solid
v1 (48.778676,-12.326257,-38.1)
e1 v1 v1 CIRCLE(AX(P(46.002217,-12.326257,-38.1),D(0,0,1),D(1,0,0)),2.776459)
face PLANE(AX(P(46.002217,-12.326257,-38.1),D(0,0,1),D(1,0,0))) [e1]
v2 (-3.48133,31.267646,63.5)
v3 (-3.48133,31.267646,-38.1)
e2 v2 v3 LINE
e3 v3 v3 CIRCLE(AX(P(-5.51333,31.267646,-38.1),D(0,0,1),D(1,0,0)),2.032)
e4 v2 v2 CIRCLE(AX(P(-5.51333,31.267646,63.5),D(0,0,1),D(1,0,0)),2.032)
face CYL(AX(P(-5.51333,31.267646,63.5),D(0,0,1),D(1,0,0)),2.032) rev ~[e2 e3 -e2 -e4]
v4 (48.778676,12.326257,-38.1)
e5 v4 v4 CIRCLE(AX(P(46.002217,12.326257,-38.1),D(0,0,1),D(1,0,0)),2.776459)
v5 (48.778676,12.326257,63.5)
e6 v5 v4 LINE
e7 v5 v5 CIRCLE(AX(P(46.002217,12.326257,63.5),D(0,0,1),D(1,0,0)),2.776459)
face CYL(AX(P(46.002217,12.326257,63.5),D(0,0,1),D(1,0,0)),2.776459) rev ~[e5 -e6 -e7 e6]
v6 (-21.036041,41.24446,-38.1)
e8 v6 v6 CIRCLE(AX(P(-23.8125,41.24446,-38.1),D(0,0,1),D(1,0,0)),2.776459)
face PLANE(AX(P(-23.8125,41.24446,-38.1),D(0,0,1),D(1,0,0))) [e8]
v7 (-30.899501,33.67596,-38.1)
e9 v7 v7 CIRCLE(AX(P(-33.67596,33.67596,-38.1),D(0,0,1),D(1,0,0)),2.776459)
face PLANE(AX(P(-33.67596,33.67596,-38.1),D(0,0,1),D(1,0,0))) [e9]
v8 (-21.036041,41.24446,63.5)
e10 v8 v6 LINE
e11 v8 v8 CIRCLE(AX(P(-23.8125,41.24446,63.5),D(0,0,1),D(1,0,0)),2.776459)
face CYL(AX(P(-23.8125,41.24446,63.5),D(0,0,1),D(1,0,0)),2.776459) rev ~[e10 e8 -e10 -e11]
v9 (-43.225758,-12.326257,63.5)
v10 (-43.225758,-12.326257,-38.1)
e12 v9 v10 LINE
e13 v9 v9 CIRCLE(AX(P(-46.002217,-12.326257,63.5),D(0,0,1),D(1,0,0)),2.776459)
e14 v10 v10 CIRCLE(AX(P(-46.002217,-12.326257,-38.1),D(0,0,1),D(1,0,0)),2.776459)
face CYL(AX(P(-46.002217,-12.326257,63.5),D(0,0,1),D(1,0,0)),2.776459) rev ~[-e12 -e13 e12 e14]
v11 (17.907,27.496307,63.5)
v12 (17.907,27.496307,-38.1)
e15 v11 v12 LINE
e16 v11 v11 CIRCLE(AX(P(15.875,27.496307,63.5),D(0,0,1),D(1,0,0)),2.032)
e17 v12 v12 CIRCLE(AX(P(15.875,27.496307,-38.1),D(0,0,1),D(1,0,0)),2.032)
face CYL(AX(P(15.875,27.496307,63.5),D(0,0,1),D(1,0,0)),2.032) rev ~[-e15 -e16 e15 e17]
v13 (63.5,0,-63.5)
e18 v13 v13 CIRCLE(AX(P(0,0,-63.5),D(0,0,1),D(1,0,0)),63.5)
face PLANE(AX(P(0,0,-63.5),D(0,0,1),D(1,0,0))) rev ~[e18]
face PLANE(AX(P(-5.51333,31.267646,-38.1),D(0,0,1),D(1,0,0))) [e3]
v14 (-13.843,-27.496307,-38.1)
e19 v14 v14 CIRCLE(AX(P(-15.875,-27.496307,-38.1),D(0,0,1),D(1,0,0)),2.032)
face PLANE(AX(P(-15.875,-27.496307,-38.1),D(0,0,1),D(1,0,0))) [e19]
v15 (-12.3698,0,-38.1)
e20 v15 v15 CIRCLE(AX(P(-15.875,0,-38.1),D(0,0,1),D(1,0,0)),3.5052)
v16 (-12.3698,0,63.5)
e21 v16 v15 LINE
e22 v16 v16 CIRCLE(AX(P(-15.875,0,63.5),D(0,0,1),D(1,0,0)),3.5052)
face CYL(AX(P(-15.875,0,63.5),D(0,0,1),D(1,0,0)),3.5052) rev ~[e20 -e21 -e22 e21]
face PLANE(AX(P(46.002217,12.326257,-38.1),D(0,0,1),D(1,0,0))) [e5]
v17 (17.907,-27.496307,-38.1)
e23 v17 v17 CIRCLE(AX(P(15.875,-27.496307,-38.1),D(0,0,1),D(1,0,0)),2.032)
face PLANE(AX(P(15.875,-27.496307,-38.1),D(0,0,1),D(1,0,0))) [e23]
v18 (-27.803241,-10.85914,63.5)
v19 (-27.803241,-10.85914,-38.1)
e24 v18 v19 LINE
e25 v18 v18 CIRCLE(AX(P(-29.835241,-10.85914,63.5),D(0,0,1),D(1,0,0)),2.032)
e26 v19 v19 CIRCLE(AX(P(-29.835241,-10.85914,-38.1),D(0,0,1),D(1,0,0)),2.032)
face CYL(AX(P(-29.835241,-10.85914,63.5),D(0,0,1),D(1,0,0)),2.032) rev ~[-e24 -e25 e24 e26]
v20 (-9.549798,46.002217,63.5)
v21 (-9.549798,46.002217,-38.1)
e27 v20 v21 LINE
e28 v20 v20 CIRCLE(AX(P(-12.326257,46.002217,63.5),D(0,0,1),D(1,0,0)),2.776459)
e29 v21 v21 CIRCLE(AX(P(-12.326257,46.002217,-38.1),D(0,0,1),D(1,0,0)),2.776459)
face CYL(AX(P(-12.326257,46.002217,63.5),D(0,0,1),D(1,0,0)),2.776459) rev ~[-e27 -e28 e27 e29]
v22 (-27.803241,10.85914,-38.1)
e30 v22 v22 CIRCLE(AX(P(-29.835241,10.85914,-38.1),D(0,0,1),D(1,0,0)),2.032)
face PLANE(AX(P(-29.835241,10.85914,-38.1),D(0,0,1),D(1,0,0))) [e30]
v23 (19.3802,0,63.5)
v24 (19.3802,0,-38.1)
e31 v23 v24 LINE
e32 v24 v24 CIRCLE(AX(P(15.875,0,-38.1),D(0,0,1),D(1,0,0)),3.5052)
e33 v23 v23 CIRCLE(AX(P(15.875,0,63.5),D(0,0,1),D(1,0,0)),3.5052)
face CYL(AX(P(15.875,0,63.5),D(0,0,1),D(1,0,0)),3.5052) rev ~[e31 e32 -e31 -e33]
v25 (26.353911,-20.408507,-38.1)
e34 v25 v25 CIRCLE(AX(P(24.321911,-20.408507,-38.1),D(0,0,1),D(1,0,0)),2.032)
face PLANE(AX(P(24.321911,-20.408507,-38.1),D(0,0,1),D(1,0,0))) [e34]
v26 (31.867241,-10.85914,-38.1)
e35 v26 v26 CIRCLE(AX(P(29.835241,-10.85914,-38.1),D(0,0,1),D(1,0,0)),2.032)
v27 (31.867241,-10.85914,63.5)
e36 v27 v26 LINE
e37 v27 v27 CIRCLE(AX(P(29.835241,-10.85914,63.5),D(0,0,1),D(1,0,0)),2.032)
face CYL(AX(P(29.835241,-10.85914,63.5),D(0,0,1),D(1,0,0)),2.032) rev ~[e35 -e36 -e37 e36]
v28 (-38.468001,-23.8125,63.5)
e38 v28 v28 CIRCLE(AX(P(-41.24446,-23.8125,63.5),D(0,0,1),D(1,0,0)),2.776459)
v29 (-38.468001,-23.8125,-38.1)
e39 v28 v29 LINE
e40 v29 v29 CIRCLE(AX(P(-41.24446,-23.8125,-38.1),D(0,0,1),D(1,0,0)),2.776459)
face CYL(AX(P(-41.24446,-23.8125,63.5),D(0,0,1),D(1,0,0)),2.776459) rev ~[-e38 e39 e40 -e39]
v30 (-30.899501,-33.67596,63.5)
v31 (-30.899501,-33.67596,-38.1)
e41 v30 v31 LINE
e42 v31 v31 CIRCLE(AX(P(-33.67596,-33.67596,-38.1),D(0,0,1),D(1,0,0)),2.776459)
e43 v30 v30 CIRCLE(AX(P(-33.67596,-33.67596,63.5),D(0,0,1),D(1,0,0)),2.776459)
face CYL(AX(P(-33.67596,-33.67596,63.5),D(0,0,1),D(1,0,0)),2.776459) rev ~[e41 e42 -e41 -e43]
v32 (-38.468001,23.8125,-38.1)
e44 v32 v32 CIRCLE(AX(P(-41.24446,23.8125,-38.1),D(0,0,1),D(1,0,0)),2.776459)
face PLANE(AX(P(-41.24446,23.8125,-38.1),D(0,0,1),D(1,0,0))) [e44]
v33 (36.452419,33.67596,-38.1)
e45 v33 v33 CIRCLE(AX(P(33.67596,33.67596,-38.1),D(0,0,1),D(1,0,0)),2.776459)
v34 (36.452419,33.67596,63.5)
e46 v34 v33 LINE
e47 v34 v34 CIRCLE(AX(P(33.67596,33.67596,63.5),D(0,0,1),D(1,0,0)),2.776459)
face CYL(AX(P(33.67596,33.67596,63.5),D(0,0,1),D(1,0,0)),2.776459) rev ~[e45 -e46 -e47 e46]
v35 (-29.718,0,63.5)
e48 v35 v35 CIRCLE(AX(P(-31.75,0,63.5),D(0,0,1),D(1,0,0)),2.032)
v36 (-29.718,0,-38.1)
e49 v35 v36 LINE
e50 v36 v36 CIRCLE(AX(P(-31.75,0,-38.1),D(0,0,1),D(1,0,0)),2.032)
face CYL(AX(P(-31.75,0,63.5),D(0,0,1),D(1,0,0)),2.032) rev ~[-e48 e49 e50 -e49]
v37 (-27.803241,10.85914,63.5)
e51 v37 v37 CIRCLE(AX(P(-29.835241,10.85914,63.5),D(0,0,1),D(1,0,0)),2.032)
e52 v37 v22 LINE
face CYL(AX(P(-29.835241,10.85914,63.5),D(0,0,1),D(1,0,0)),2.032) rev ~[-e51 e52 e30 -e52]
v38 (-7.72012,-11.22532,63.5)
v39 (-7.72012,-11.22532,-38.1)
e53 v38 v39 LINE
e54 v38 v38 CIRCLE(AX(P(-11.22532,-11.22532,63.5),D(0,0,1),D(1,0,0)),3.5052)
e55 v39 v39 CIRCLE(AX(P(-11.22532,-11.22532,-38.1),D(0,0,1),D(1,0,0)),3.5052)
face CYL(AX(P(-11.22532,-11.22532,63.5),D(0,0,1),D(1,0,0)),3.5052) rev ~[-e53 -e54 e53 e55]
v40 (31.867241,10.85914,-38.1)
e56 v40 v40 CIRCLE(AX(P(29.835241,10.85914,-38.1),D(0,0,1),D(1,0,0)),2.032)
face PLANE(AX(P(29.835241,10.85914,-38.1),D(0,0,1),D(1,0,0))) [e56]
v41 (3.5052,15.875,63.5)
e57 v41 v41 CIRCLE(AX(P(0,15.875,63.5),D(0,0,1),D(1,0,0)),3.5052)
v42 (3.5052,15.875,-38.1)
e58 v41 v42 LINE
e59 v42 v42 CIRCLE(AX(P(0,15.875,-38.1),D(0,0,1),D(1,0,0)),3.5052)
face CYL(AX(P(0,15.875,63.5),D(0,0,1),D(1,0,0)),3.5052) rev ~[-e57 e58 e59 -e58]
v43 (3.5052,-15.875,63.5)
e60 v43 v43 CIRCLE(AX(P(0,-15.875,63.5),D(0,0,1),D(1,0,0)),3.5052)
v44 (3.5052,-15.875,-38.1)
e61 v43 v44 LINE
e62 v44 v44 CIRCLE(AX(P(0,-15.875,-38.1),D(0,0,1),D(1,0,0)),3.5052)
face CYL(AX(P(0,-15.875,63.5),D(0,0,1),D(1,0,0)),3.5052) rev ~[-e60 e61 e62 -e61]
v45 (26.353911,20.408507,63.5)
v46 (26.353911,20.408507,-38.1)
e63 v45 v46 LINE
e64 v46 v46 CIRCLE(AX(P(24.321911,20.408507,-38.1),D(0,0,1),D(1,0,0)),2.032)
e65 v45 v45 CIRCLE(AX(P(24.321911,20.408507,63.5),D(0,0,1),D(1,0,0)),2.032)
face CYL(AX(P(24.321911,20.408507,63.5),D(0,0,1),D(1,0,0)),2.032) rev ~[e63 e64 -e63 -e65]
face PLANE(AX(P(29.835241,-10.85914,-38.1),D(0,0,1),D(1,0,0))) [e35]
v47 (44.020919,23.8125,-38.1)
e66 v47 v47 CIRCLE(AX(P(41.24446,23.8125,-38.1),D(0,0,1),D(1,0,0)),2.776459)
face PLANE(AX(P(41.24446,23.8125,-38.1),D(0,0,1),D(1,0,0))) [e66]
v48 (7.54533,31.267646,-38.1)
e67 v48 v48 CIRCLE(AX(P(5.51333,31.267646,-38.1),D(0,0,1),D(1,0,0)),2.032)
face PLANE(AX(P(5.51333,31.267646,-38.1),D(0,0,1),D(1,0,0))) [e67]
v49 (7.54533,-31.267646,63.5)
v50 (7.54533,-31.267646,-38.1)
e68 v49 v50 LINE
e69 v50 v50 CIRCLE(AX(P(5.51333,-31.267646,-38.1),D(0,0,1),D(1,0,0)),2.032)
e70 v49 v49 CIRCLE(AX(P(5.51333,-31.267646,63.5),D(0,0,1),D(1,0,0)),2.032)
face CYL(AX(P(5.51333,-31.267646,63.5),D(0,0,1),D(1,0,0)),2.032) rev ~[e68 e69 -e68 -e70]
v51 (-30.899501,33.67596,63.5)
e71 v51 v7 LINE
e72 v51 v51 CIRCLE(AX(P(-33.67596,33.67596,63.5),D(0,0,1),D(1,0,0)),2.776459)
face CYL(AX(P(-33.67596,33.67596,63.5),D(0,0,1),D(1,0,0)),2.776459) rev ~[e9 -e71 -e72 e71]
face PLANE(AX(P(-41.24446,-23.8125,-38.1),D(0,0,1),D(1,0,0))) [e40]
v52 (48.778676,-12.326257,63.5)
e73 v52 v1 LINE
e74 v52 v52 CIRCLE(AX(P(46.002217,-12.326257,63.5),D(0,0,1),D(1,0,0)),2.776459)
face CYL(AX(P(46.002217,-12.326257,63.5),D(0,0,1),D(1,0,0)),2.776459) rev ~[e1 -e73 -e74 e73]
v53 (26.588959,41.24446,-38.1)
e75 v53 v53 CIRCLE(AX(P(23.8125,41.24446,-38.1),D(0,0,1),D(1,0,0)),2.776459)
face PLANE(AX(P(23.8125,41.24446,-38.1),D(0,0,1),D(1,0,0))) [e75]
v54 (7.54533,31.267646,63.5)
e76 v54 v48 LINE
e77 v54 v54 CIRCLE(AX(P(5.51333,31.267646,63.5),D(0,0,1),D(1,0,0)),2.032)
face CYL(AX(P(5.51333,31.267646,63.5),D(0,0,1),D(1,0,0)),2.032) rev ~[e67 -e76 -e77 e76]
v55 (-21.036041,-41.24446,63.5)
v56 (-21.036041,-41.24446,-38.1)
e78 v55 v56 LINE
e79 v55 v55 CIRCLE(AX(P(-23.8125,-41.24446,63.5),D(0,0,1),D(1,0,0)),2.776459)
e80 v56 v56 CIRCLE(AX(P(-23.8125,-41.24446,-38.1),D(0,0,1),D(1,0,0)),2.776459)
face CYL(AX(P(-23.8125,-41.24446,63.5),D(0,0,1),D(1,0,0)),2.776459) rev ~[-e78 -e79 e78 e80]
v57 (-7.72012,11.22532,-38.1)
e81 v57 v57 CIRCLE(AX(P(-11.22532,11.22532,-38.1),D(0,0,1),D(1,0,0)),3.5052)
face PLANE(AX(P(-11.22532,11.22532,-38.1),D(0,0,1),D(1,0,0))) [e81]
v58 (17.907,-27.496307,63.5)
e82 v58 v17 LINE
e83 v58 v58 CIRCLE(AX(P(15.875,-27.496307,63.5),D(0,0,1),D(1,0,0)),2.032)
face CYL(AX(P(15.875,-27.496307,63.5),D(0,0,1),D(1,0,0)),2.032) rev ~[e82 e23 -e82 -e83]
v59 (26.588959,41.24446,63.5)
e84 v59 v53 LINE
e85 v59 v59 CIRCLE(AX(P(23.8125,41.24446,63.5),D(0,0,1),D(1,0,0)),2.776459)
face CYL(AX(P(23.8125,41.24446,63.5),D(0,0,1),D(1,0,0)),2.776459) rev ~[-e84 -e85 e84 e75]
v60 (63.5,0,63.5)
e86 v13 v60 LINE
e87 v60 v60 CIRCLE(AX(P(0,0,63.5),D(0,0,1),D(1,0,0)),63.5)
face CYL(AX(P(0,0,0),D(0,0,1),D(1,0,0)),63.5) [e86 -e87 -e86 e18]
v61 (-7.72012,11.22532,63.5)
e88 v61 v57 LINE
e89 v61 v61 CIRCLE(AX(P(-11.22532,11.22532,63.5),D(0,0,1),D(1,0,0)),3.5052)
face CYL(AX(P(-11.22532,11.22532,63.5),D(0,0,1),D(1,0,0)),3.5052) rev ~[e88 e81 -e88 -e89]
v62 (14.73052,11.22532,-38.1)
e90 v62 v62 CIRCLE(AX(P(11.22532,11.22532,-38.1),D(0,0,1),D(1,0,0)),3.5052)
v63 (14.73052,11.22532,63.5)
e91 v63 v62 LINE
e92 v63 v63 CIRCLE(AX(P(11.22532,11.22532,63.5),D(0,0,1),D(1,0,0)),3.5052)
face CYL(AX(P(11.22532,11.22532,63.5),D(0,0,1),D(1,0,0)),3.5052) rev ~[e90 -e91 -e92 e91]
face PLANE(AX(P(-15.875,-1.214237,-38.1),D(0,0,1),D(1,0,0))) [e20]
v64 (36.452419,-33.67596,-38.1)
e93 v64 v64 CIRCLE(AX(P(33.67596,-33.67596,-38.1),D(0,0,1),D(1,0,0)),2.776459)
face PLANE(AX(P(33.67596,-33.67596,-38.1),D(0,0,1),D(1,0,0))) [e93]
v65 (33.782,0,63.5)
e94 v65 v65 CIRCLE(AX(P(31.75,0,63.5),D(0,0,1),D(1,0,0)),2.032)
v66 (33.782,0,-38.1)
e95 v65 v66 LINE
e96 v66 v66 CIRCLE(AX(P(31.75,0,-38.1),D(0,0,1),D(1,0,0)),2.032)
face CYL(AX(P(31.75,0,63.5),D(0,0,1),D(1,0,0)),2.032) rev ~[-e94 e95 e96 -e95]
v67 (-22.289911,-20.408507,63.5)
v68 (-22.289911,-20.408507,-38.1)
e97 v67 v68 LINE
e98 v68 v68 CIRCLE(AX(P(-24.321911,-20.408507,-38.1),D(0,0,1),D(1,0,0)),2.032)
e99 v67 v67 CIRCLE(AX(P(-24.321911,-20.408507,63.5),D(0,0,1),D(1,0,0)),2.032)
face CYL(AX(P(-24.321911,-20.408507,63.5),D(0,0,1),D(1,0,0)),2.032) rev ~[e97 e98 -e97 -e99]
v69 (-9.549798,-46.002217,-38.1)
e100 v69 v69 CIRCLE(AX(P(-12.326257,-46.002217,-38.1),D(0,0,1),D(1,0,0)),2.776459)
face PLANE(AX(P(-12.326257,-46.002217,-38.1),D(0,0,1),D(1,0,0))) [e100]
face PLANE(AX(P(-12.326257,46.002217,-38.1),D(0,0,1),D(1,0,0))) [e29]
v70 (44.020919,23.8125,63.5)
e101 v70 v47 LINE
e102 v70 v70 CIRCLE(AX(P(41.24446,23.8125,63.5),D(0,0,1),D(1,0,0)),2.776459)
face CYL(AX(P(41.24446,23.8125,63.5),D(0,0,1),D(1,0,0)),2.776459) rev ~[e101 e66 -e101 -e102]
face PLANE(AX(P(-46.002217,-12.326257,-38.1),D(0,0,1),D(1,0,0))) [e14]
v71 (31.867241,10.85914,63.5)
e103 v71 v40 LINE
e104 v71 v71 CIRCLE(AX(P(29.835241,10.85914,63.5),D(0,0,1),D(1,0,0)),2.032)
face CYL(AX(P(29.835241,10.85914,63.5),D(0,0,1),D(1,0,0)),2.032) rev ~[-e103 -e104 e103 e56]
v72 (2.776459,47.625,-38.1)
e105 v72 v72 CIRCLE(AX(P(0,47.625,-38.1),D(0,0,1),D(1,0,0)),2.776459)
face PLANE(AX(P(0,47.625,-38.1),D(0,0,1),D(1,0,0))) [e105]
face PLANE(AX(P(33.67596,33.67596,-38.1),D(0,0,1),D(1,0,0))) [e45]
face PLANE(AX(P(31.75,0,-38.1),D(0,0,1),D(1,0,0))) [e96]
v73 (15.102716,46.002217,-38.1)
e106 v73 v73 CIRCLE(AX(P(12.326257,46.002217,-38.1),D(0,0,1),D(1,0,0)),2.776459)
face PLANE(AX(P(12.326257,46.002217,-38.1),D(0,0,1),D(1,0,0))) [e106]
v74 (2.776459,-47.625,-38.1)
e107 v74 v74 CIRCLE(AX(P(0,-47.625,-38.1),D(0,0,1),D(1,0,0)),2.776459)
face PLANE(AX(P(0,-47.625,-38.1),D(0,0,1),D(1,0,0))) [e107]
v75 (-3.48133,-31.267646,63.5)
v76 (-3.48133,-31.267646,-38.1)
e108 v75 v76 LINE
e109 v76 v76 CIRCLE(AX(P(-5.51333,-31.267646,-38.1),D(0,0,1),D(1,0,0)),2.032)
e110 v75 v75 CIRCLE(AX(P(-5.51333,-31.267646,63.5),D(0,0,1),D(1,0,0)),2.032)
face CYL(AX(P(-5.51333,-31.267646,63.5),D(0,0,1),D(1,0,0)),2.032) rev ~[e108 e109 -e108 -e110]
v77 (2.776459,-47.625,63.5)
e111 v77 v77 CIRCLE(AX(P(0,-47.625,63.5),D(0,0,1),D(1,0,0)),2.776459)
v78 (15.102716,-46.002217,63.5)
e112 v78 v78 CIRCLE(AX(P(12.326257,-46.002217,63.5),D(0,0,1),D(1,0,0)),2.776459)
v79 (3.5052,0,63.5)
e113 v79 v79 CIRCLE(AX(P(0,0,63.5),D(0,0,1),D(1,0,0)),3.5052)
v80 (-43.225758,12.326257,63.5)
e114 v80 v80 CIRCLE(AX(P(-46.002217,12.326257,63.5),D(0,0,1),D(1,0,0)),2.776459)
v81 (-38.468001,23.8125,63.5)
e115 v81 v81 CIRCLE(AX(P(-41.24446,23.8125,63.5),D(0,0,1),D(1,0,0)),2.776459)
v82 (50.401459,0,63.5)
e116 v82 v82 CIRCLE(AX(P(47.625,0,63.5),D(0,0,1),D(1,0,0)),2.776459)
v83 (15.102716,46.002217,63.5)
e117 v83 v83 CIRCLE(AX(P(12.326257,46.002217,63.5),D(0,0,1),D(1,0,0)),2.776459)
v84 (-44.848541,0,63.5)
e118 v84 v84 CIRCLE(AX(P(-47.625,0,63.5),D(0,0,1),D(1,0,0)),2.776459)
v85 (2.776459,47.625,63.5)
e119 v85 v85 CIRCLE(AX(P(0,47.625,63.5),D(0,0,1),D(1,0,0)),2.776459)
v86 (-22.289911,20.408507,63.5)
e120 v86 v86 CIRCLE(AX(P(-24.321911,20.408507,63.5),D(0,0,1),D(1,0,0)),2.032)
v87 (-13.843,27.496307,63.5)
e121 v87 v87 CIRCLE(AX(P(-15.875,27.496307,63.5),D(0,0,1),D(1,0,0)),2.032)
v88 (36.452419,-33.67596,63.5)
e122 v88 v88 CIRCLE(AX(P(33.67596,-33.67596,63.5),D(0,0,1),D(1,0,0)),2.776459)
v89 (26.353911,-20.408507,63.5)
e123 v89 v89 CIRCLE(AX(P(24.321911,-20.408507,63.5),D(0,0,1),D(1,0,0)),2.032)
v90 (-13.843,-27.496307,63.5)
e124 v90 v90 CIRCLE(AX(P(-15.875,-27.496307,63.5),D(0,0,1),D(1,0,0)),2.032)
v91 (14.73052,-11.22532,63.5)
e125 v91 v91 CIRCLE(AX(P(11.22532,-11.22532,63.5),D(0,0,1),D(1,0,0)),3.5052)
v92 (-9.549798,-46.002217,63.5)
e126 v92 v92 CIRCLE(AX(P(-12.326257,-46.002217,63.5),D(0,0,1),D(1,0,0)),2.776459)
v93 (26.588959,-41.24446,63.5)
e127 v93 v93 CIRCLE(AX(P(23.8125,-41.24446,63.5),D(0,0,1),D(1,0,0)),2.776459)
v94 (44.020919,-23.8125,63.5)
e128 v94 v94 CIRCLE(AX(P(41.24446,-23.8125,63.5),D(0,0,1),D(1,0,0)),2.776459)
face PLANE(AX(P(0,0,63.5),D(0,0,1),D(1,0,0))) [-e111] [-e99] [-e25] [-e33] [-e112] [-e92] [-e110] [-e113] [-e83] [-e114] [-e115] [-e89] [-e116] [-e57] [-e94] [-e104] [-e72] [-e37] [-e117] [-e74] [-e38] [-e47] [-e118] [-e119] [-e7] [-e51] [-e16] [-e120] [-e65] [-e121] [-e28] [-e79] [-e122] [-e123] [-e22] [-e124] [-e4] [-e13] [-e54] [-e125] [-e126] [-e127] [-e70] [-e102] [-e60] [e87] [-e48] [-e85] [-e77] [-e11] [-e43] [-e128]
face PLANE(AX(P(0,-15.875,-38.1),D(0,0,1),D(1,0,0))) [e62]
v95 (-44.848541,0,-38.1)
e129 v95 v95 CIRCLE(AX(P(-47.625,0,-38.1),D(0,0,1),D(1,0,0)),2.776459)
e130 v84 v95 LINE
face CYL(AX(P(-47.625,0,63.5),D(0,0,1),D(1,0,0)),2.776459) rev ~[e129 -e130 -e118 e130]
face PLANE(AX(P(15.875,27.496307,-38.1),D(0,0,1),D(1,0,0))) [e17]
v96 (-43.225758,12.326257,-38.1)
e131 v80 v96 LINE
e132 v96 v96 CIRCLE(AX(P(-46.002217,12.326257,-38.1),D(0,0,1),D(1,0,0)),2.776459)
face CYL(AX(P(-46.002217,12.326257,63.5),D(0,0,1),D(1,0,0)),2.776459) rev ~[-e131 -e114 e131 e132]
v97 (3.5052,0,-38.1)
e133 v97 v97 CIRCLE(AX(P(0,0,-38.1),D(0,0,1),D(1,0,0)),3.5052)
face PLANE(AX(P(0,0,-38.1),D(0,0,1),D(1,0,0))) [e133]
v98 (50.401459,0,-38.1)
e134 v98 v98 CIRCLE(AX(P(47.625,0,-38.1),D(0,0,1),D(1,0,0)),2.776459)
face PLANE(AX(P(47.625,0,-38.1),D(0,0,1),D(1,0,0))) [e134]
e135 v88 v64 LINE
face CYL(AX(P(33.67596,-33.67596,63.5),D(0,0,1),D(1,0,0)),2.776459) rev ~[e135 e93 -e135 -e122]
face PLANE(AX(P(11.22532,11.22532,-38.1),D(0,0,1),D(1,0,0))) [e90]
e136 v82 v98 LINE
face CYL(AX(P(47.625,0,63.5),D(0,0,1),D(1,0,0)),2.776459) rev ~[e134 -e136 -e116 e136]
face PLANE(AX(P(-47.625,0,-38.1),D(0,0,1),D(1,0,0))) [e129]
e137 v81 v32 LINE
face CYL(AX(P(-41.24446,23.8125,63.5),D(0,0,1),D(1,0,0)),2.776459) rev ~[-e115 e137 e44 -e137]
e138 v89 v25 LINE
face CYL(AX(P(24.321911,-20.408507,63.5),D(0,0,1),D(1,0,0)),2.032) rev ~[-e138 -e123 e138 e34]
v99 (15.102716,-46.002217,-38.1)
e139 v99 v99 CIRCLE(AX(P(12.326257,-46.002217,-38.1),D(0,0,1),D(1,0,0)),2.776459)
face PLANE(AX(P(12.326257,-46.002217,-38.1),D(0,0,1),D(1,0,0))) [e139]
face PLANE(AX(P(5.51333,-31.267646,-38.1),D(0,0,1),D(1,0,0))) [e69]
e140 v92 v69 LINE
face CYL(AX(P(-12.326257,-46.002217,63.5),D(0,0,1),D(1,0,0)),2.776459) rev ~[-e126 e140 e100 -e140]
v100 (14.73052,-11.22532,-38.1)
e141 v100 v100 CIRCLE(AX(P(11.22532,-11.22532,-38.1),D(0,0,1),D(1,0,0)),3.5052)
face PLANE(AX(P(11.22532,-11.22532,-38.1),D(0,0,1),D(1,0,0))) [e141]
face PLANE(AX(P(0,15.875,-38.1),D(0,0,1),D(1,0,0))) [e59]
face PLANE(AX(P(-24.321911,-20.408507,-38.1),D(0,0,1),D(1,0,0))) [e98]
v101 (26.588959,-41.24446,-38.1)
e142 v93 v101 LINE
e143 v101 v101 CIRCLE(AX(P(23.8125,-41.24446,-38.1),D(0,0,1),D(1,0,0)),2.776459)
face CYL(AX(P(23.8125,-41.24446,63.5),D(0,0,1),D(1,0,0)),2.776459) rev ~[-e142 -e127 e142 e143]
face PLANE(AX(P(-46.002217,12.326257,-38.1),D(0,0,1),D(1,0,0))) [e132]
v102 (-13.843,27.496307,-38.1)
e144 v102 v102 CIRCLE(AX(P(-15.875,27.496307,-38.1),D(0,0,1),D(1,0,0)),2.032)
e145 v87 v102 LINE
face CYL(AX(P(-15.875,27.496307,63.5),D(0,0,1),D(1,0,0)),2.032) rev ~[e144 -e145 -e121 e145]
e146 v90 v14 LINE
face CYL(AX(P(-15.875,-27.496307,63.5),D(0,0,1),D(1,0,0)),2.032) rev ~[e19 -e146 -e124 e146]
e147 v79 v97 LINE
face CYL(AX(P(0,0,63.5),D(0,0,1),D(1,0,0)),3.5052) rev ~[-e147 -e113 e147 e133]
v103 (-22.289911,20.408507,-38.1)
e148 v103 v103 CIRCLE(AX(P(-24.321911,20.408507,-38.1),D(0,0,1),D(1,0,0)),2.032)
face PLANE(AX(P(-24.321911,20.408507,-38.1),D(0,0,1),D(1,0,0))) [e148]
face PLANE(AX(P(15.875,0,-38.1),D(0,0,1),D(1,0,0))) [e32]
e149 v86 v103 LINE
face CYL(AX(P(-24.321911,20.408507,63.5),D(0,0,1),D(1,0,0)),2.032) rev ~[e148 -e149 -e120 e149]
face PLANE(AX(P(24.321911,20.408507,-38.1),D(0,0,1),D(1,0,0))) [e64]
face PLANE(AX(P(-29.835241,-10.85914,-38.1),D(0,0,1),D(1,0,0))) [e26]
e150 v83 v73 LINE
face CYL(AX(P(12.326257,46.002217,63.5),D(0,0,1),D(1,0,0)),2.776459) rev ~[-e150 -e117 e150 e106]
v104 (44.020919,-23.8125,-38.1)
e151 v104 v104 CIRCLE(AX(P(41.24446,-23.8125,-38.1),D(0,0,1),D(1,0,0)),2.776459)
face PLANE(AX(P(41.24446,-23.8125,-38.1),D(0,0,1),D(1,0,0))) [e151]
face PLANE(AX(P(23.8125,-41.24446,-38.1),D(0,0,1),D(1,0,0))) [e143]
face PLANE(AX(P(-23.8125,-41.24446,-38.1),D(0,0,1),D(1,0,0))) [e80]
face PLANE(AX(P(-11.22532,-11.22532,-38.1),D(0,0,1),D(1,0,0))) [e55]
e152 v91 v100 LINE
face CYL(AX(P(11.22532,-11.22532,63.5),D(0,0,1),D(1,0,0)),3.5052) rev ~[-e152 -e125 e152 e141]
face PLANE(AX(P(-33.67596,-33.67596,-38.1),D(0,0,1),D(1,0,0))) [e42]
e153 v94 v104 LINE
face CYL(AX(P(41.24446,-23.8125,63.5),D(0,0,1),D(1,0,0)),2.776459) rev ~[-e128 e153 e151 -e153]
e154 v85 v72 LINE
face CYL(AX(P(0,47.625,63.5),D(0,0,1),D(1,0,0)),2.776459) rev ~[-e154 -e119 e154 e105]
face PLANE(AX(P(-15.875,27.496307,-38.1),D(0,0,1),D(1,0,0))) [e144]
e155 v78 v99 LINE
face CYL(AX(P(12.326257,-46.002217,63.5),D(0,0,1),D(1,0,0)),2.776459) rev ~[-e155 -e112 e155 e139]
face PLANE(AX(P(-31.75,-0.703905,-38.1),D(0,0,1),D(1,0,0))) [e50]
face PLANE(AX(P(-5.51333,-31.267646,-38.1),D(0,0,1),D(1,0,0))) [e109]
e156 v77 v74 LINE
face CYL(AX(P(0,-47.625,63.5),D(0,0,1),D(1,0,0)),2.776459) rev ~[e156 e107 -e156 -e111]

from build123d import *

# Parameters (mm, degrees)
F0_R     = 63.5
F1_DEPTH = 63.5
F2_R     = 2.776459
F2_R_2   = 2.032
F2_R_3   = 3.5052
F3_DEPTH = 101.6


with BuildPart() as f1:
    # F0 (on Top) → F1 (new body, symmetric)
    with BuildSketch(Plane.XY):
        Circle(F0_R)
    extrude(amount=F1_DEPTH, both=True)

    # F2 (on face) → F3 (cut)
    with BuildSketch(Plane.XY.offset(63.5)):
        with BuildLine():
            ThreePointArc((-3.5052, 0), (0, -3.5052), (3.5052, 0))
            ThreePointArc((3.5052, 0), (0, 3.5052), (-3.5052, 0))
        make_face()
        with Locations((-47.625, 0)):
            Circle(F2_R)
        with BuildLine():
            ThreePointArc((-33.782, 0), (-31.75, -2.032), (-29.718, 0))
            Line((-29.718, 0), (-31.75, 0))
            Line((-31.75, 0), (-33.782, 0))
        make_face()
        with BuildLine():
            Line((-31.75, 0), (-29.718, 0))
            ThreePointArc((-29.718, 0), (-31.75, 2.032), (-33.782, 0))
            Line((-33.782, 0), (-31.75, 0))
        make_face()
        with BuildLine():
            ThreePointArc((-19.3802, 0), (-15.875, -3.5052), (-12.3698, 0))
            Line((-12.3698, 0), (-15.875, 0))
            Line((-15.875, 0), (-19.3802, 0))
        make_face()
        with BuildLine():
            Line((-15.875, 0), (-12.3698, 0))
            ThreePointArc((-12.3698, 0), (-15.875, 3.5052), (-19.3802, 0))
            Line((-19.3802, 0), (-15.875, 0))
        make_face()
        with Locations((-46.002217, -12.326257)):
            Circle(F2_R)
        with Locations((-41.24446, -23.8125)):
            Circle(F2_R)
        with Locations((-33.67596, -33.67596)):
            Circle(F2_R)
        with Locations((-23.8125, -41.24446)):
            Circle(F2_R)
        with Locations((-12.326257, -46.002217)):
            Circle(F2_R)
        with Locations((0, -47.625)):
            Circle(F2_R)
        with Locations((12.326257, -46.002217)):
            Circle(F2_R)
        with Locations((23.8125, -41.24446)):
            Circle(F2_R)
        with Locations((33.67596, -33.67596)):
            Circle(F2_R)
        with Locations((41.24446, -23.8125)):
            Circle(F2_R)
        with Locations((46.002217, -12.326257)):
            Circle(F2_R)
        with Locations((47.625, 0)):
            Circle(F2_R)
        with Locations((46.002217, 12.326257)):
            Circle(F2_R)
        with Locations((41.24446, 23.8125)):
            Circle(F2_R)
        with Locations((33.67596, 33.67596)):
            Circle(F2_R)
        with Locations((23.8125, 41.24446)):
            Circle(F2_R)
        with Locations((12.326257, 46.002217)):
            Circle(F2_R)
        with Locations((0, 47.625)):
            Circle(F2_R)
        with Locations((-12.326257, 46.002217)):
            Circle(F2_R)
        with Locations((-23.8125, 41.24446)):
            Circle(F2_R)
        with Locations((-33.67596, 33.67596)):
            Circle(F2_R)
        with Locations((-41.24446, 23.8125)):
            Circle(F2_R)
        with Locations((-46.002217, 12.326257)):
            Circle(F2_R)
        with Locations((-29.835241, -10.85914)):
            Circle(F2_R_2)
        with Locations((-24.321911, -20.408507)):
            Circle(F2_R_2)
        with Locations((-15.875, -27.496307)):
            Circle(F2_R_2)
        with Locations((-5.51333, -31.267646)):
            Circle(F2_R_2)
        with Locations((5.51333, -31.267646)):
            Circle(F2_R_2)
        with Locations((15.875, -27.496307)):
            Circle(F2_R_2)
        with Locations((24.321911, -20.408507)):
            Circle(F2_R_2)
        with Locations((29.835241, -10.85914)):
            Circle(F2_R_2)
        with Locations((31.75, 0)):
            Circle(F2_R_2)
        with Locations((29.835241, 10.85914)):
            Circle(F2_R_2)
        with Locations((24.321911, 20.408507)):
            Circle(F2_R_2)
        with Locations((15.875, 27.496307)):
            Circle(F2_R_2)
        with Locations((5.51333, 31.267646)):
            Circle(F2_R_2)
        with Locations((-5.51333, 31.267646)):
            Circle(F2_R_2)
        with Locations((-15.875, 27.496307)):
            Circle(F2_R_2)
        with Locations((-24.321911, 20.408507)):
            Circle(F2_R_2)
        with Locations((-29.835241, 10.85914)):
            Circle(F2_R_2)
        with Locations((-11.22532, -11.22532)):
            Circle(F2_R_3)
        with Locations((0, -15.875)):
            Circle(F2_R_3)
        with Locations((11.22532, -11.22532)):
            Circle(F2_R_3)
        with Locations((15.875, 0)):
            Circle(F2_R_3)
        with Locations((11.22532, 11.22532)):
            Circle(F2_R_3)
        with Locations((0, 15.875)):
            Circle(F2_R_3)
        with Locations((-11.22532, 11.22532)):
            Circle(F2_R_3)
    extrude(amount=-F3_DEPTH, mode=Mode.SUBTRACT)


solid = f1.part
